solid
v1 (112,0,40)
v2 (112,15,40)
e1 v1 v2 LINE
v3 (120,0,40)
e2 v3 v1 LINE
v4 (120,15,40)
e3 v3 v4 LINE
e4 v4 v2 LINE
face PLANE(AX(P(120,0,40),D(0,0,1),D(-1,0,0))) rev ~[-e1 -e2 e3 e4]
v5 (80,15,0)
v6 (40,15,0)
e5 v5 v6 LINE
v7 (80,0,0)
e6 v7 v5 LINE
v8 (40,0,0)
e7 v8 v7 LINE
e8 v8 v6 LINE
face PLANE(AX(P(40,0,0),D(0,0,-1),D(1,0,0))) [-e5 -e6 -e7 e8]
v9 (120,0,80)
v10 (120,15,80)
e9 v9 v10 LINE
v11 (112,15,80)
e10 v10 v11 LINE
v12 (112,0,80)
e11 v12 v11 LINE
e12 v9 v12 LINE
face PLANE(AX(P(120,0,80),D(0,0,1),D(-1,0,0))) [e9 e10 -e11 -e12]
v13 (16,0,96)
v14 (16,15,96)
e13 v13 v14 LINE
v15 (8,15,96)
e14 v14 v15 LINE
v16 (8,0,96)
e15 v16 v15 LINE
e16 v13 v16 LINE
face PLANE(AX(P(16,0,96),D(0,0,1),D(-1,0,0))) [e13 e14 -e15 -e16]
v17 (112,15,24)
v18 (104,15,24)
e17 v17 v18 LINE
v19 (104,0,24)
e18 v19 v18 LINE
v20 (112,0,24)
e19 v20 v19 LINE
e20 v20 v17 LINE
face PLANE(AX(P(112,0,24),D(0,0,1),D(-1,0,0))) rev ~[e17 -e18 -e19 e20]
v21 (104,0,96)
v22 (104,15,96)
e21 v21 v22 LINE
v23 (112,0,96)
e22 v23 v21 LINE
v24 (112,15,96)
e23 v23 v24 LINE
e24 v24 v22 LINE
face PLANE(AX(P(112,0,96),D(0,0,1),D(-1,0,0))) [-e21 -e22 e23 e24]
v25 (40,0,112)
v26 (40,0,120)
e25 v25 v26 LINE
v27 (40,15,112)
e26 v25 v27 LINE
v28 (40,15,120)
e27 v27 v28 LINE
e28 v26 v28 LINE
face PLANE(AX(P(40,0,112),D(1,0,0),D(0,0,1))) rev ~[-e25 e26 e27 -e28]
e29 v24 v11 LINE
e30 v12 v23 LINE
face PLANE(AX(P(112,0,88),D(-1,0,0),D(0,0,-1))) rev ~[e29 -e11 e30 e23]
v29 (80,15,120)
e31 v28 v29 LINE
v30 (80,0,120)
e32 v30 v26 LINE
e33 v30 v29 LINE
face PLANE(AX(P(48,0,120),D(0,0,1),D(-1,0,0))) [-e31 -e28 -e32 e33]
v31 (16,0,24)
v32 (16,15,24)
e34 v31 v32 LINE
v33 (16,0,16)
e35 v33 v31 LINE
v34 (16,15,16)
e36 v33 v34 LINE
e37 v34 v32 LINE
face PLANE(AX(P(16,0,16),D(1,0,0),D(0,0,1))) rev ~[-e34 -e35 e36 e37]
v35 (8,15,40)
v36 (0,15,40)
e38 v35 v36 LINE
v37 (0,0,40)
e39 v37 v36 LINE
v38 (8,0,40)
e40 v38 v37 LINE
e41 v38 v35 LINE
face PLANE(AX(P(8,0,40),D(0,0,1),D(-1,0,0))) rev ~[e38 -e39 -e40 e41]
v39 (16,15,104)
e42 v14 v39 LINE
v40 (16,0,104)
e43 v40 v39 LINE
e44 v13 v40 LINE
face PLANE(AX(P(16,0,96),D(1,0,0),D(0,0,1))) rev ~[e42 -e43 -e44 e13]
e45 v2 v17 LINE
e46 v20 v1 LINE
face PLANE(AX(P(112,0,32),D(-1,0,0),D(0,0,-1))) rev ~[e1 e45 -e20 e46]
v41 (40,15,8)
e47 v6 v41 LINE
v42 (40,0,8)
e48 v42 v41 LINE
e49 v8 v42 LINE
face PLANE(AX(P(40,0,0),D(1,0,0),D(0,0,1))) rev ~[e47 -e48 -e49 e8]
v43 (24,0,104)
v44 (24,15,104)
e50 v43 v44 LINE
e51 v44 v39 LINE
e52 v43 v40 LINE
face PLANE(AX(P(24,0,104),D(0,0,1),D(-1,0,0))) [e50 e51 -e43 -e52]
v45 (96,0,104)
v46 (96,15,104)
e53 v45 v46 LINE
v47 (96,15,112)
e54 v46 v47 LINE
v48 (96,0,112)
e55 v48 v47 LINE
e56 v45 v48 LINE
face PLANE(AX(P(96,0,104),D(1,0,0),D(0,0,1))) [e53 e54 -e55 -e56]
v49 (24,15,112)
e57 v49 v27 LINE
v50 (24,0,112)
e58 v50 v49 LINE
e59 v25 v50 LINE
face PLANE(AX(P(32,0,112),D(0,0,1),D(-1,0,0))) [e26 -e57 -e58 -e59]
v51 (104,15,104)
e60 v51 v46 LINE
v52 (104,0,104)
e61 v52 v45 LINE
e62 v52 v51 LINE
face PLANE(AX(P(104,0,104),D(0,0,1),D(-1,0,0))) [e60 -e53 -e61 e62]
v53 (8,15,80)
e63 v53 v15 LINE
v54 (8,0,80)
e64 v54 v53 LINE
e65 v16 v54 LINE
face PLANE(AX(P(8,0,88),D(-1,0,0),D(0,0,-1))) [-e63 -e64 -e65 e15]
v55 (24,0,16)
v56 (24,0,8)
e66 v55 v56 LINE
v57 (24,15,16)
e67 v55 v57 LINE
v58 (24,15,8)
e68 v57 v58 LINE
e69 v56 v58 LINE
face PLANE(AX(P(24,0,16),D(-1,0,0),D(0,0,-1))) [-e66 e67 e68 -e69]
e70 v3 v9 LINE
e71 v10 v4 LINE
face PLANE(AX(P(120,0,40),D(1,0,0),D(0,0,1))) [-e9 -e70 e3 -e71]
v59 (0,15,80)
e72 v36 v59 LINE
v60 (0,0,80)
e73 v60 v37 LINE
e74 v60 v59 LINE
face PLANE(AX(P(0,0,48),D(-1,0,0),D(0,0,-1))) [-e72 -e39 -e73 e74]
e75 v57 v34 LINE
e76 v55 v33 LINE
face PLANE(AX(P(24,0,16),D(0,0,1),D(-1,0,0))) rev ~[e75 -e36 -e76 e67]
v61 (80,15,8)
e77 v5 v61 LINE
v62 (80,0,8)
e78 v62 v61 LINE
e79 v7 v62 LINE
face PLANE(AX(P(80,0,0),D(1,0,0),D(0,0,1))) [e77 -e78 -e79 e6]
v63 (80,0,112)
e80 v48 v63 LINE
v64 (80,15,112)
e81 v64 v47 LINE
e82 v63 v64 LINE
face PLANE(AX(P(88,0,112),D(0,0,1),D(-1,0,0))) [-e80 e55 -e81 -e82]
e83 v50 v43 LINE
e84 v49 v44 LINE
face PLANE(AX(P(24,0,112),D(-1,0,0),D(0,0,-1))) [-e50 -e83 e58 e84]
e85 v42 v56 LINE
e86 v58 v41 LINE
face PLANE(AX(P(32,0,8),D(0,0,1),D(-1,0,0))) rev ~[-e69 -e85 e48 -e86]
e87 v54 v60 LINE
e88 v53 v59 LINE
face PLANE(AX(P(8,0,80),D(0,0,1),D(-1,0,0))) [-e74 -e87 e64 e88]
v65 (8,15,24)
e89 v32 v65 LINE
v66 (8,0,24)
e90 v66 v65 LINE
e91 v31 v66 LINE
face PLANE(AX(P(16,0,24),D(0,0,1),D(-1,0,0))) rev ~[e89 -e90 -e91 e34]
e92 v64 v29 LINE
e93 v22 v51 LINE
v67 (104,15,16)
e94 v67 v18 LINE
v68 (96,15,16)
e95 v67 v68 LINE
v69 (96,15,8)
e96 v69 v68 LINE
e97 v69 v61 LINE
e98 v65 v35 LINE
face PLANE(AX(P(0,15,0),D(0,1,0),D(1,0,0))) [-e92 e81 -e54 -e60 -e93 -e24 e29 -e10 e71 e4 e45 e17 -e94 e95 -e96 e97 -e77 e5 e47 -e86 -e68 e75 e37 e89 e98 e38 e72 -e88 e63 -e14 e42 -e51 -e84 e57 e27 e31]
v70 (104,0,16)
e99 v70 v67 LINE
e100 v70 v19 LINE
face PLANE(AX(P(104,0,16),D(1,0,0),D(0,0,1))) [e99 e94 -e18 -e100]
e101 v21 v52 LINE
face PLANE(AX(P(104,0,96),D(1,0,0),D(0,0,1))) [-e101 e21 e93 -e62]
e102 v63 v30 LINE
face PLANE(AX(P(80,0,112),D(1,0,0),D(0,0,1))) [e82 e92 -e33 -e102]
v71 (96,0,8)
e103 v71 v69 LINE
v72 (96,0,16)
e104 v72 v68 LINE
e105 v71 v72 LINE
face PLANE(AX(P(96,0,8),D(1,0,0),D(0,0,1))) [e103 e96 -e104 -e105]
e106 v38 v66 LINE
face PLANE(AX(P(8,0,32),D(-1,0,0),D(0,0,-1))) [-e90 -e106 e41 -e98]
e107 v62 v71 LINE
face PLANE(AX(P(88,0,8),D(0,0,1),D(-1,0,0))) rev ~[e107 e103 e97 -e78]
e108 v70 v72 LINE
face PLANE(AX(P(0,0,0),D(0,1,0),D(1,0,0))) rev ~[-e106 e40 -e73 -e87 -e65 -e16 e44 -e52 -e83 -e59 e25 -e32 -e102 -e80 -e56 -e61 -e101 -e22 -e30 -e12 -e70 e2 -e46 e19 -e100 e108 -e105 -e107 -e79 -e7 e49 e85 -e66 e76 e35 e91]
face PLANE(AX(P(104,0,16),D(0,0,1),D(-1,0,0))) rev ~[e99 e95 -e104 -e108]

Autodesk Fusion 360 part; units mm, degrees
sketch "Sketch1" plane through (0, 0, 0) normal (0, 1, 0) x (1, 0, 0)
  line L0 (0, 0) -> (-8, 0)
  line L1 (0, 0) -> (0, -8)
  line L2 (0, 0) -> (8, 0)
  line L3 (8, 0) -> (8, -8)
  line L4 (8, -8) -> (0, -8)
  line L5 (0, -8) -> (0, 0)
  line L6 (8, -8) -> (8, 0)
  line L7 (8, 0) -> (16, 0)
  line L8 (16, 0) -> (16, -8)
  line L9 (16, -8) -> (8, -8)
  line L10 (16, -8) -> (16, 0)
  line L11 (16, 0) -> (24, 0)
  line L12 (24, 0) -> (24, -8)
  line L13 (24, -8) -> (16, -8)
  line L14 (24, -8) -> (24, 0)
  line L15 (24, 0) -> (32, 0)
  line L16 (32, 0) -> (32, -8)
  line L17 (32, -8) -> (24, -8)
  line L18 (32, -8) -> (32, 0)
  line L19 (32, 0) -> (40, 0)
  line L20 (40, 0) -> (40, -8)
  line L21 (40, -8) -> (32, -8)
  line L22 (40, -8) -> (40, 0)
  line L23 (40, 0) -> (48, 0)
  line L24 (48, 0) -> (48, -8)
  line L25 (48, -8) -> (40, -8)
  line L26 (48, -8) -> (48, 0)
  line L27 (48, 0) -> (56, 0)
  line L28 (56, 0) -> (56, -8)
  line L29 (56, -8) -> (48, -8)
  line L30 (56, -8) -> (56, 0)
  line L31 (56, 0) -> (64, 0)
  line L32 (64, 0) -> (64, -8)
  line L33 (64, -8) -> (56, -8)
  line L34 (64, -8) -> (64, 0)
  line L35 (64, 0) -> (72, 0)
  line L36 (72, 0) -> (72, -8)
  line L37 (72, -8) -> (64, -8)
  line L38 (72, -8) -> (72, 0)
  line L39 (72, 0) -> (80, 0)
  line L40 (80, 0) -> (80, -8)
  line L41 (80, -8) -> (72, -8)
  line L42 (80, -8) -> (80, 0)
  line L43 (80, 0) -> (88, 0)
  line L44 (88, 0) -> (88, -8)
  line L45 (88, -8) -> (80, -8)
  line L46 (88, -8) -> (88, 0)
  line L47 (88, 0) -> (96, 0)
  line L48 (96, 0) -> (96, -8)
  line L49 (96, -8) -> (88, -8)
  line L50 (96, -8) -> (96, 0)
  line L51 (96, 0) -> (104, 0)
  line L52 (104, 0) -> (104, -8)
  line L53 (104, -8) -> (96, -8)
  line L54 (104, -8) -> (104, 0)
  line L55 (104, 0) -> (112, 0)
  line L56 (112, 0) -> (112, -8)
  line L57 (112, -8) -> (104, -8)
  line L58 (112, -8) -> (112, 0)
  line L59 (112, 0) -> (120, 0)
  line L60 (120, 0) -> (120, -8)
  line L61 (120, -8) -> (112, -8)
  line L62 (32, -8) -> (32, -16)
  line L63 (72, -8) -> (72, -16)
  line L64 (8, -16) -> (8, -8)
  line L65 (32, -16) -> (32, -8)
  line L66 (64, -8) -> (64, -16)
  line L67 (80, -8) -> (80, -16)
  line L68 (32, -8) -> (40, -8)
  line L69 (8, -8) -> (16, -8)
  line L70 (56, -16) -> (56, -8)
  line L71 (80, -16) -> (80, -8)
  line L72 (64, -8) -> (72, -8)
  line L73 (96, -8) -> (96, -16)
  line L74 (48, -8) -> (56, -8)
  line L75 (88, -16) -> (88, -8)
  line L76 (48, -8) -> (48, -16)
  line L77 (0, -16) -> (0, -8)
  line L78 (104, -8) -> (104, -16)
  line L79 (88, -8) -> (88, -16)
  line L80 (24, -8) -> (32, -8)
  line L81 (16, -8) -> (24, -8)
  line L82 (8, -8) -> (8, -16)
  line L83 (0, -8) -> (8, -8)
  line L84 (88, -8) -> (96, -8)
  line L85 (24, -16) -> (24, -8)
  line L86 (48, -16) -> (48, -8)
  line L87 (56, -8) -> (64, -8)
  line L88 (16, -8) -> (16, -16)
  line L89 (24, -8) -> (24, -16)
  line L90 (80, -8) -> (88, -8)
  line L91 (96, -8) -> (104, -8)
  line L92 (40, -8) -> (40, -16)
  line L93 (72, -16) -> (72, -8)
  line L94 (104, -16) -> (104, -8)
  line L95 (64, -16) -> (64, -8)
  line L96 (40, -16) -> (40, -8)
  line L97 (104, -8) -> (112, -8)
  line L98 (96, -16) -> (96, -8)
  line L99 (72, -8) -> (80, -8)
  line L100 (56, -8) -> (56, -16)
  line L101 (16, -16) -> (16, -8)
  line L102 (0, -8) -> (0, -16)
  line L103 (40, -8) -> (48, -8)
  line L104 (104, -16) -> (96, -16)
  line L105 (112, -16) -> (104, -16)
  line L106 (96, -16) -> (88, -16)
  line L107 (64, -16) -> (56, -16)
  line L108 (120, -16) -> (112, -16)
  line L109 (24, -16) -> (16, -16)
  line L110 (88, -16) -> (80, -16)
  line L111 (56, -16) -> (48, -16)
  line L112 (72, -16) -> (64, -16)
  line L113 (80, -16) -> (72, -16)
  line L114 (40, -16) -> (32, -16)
  line L115 (32, -16) -> (24, -16)
  line L116 (8, -16) -> (0, -16)
  line L117 (48, -16) -> (40, -16)
  line L118 (16, -16) -> (8, -16)
  line L119 (120, -8) -> (120, -16)
  line L120 (112, -8) -> (120, -8)
  line L121 (112, -16) -> (112, -8)
  line L122 (32, -16) -> (32, -24)
  line L123 (72, -16) -> (72, -24)
  line L124 (8, -24) -> (8, -16)
  line L125 (32, -24) -> (32, -16)
  line L126 (64, -16) -> (64, -24)
  line L127 (80, -16) -> (80, -24)
  line L128 (32, -16) -> (40, -16)
  line L129 (8, -16) -> (16, -16)
  line L130 (56, -24) -> (56, -16)
  line L131 (80, -24) -> (80, -16)
  line L132 (64, -16) -> (72, -16)
  line L133 (96, -16) -> (96, -24)
  line L134 (48, -16) -> (56, -16)
  line L135 (88, -24) -> (88, -16)
  line L136 (48, -16) -> (48, -24)
  line L137 (0, -24) -> (0, -16)
  line L138 (104, -16) -> (104, -24)
  line L139 (88, -16) -> (88, -24)
  line L140 (24, -16) -> (32, -16)
  line L141 (16, -16) -> (24, -16)
  line L142 (8, -16) -> (8, -24)
  line L143 (0, -16) -> (8, -16)
  line L144 (88, -16) -> (96, -16)
  line L145 (24, -24) -> (24, -16)
  line L146 (48, -24) -> (48, -16)
  line L147 (56, -16) -> (64, -16)
  line L148 (16, -16) -> (16, -24)
  line L149 (24, -16) -> (24, -24)
  line L150 (80, -16) -> (88, -16)
  line L151 (96, -16) -> (104, -16)
  line L152 (40, -16) -> (40, -24)
  line L153 (72, -24) -> (72, -16)
  line L154 (104, -24) -> (104, -16)
  line L155 (64, -24) -> (64, -16)
  line L156 (40, -24) -> (40, -16)
  line L157 (104, -16) -> (112, -16)
  line L158 (96, -24) -> (96, -16)
  line L159 (72, -16) -> (80, -16)
  line L160 (56, -16) -> (56, -24)
  line L161 (16, -24) -> (16, -16)
  line L162 (0, -16) -> (0, -24)
  line L163 (40, -16) -> (48, -16)
  line L164 (104, -24) -> (96, -24)
  line L165 (112, -24) -> (104, -24)
  line L166 (96, -24) -> (88, -24)
  line L167 (64, -24) -> (56, -24)
  line L168 (120, -24) -> (112, -24)
  line L169 (24, -24) -> (16, -24)
  line L170 (88, -24) -> (80, -24)
  line L171 (56, -24) -> (48, -24)
  line L172 (72, -24) -> (64, -24)
  line L173 (80, -24) -> (72, -24)
  line L174 (40, -24) -> (32, -24)
  line L175 (32, -24) -> (24, -24)
  line L176 (8, -24) -> (0, -24)
  line L177 (48, -24) -> (40, -24)
  line L178 (16, -24) -> (8, -24)
  line L179 (120, -16) -> (120, -24)
  line L180 (112, -16) -> (120, -16)
  line L181 (112, -24) -> (112, -16)
  line L182 (32, -24) -> (32, -32)
  line L183 (72, -24) -> (72, -32)
  line L184 (8, -32) -> (8, -24)
  line L185 (32, -32) -> (32, -24)
  line L186 (64, -24) -> (64, -32)
  line L187 (80, -24) -> (80, -32)
  line L188 (32, -24) -> (40, -24)
  line L189 (8, -24) -> (16, -24)
  line L190 (56, -32) -> (56, -24)
  line L191 (80, -32) -> (80, -24)
  line L192 (64, -24) -> (72, -24)
  line L193 (96, -24) -> (96, -32)
  line L194 (48, -24) -> (56, -24)
  line L195 (88, -32) -> (88, -24)
  line L196 (48, -24) -> (48, -32)
  line L197 (0, -32) -> (0, -24)
  line L198 (104, -24) -> (104, -32)
  line L199 (88, -24) -> (88, -32)
  line L200 (24, -24) -> (32, -24)
  line L201 (16, -24) -> (24, -24)
  line L202 (8, -24) -> (8, -32)
  line L203 (0, -24) -> (8, -24)
  line L204 (88, -24) -> (96, -24)
  line L205 (24, -32) -> (24, -24)
  line L206 (48, -32) -> (48, -24)
  line L207 (56, -24) -> (64, -24)
  line L208 (16, -24) -> (16, -32)
  line L209 (24, -24) -> (24, -32)
  line L210 (80, -24) -> (88, -24)
  line L211 (96, -24) -> (104, -24)
  line L212 (40, -24) -> (40, -32)
  line L213 (72, -32) -> (72, -24)
  line L214 (104, -32) -> (104, -24)
  line L215 (64, -32) -> (64, -24)
  line L216 (40, -32) -> (40, -24)
  line L217 (104, -24) -> (112, -24)
  line L218 (96, -32) -> (96, -24)
  line L219 (72, -24) -> (80, -24)
  line L220 (56, -24) -> (56, -32)
  line L221 (16, -32) -> (16, -24)
  line L222 (0, -24) -> (0, -32)
  line L223 (40, -24) -> (48, -24)
  line L224 (104, -32) -> (96, -32)
  line L225 (112, -32) -> (104, -32)
  line L226 (96, -32) -> (88, -32)
  line L227 (64, -32) -> (56, -32)
  line L228 (120, -32) -> (112, -32)
  line L229 (24, -32) -> (16, -32)
  line L230 (88, -32) -> (80, -32)
  line L231 (56, -32) -> (48, -32)
  line L232 (72, -32) -> (64, -32)
  line L233 (80, -32) -> (72, -32)
  line L234 (40, -32) -> (32, -32)
  line L235 (32, -32) -> (24, -32)
  line L236 (8, -32) -> (0, -32)
  line L237 (48, -32) -> (40, -32)
  line L238 (16, -32) -> (8, -32)
  line L239 (120, -24) -> (120, -32)
  line L240 (112, -24) -> (120, -24)
  line L241 (112, -32) -> (112, -24)
  line L242 (32, -32) -> (32, -40)
  line L243 (72, -32) -> (72, -40)
  line L244 (8, -40) -> (8, -32)
  line L245 (32, -40) -> (32, -32)
  line L246 (64, -32) -> (64, -40)
  line L247 (80, -32) -> (80, -40)
  line L248 (32, -32) -> (40, -32)
  line L249 (8, -32) -> (16, -32)
  line L250 (56, -40) -> (56, -32)
  line L251 (80, -40) -> (80, -32)
  line L252 (64, -32) -> (72, -32)
  line L253 (96, -32) -> (96, -40)
  line L254 (48, -32) -> (56, -32)
  line L255 (88, -40) -> (88, -32)
  line L256 (48, -32) -> (48, -40)
  line L257 (0, -40) -> (0, -32)
  line L258 (104, -32) -> (104, -40)
  line L259 (88, -32) -> (88, -40)
  line L260 (24, -32) -> (32, -32)
  line L261 (16, -32) -> (24, -32)
  line L262 (8, -32) -> (8, -40)
  line L263 (0, -32) -> (8, -32)
  line L264 (88, -32) -> (96, -32)
  line L265 (24, -40) -> (24, -32)
  line L266 (48, -40) -> (48, -32)
  line L267 (56, -32) -> (64, -32)
  line L268 (16, -32) -> (16, -40)
  line L269 (24, -32) -> (24, -40)
  line L270 (80, -32) -> (88, -32)
  line L271 (96, -32) -> (104, -32)
  line L272 (40, -32) -> (40, -40)
  line L273 (72, -40) -> (72, -32)
  line L274 (104, -40) -> (104, -32)
  line L275 (64, -40) -> (64, -32)
  line L276 (40, -40) -> (40, -32)
  line L277 (104, -32) -> (112, -32)
  line L278 (96, -40) -> (96, -32)
  line L279 (72, -32) -> (80, -32)
  line L280 (56, -32) -> (56, -40)
  line L281 (16, -40) -> (16, -32)
  line L282 (0, -32) -> (0, -40)
  line L283 (40, -32) -> (48, -32)
  line L284 (104, -40) -> (96, -40)
  line L285 (112, -40) -> (104, -40)
  line L286 (96, -40) -> (88, -40)
  line L287 (64, -40) -> (56, -40)
  line L288 (120, -40) -> (112, -40)
  line L289 (24, -40) -> (16, -40)
  line L290 (88, -40) -> (80, -40)
  line L291 (56, -40) -> (48, -40)
  line L292 (72, -40) -> (64, -40)
  line L293 (80, -40) -> (72, -40)
  line L294 (40, -40) -> (32, -40)
  line L295 (32, -40) -> (24, -40)
  line L296 (8, -40) -> (0, -40)
  line L297 (48, -40) -> (40, -40)
  line L298 (16, -40) -> (8, -40)
  line L299 (120, -32) -> (120, -40)
  line L300 (112, -32) -> (120, -32)
  line L301 (112, -40) -> (112, -32)
  line L302 (32, -40) -> (32, -48)
  line L303 (72, -40) -> (72, -48)
  line L304 (8, -48) -> (8, -40)
  line L305 (32, -48) -> (32, -40)
  line L306 (64, -40) -> (64, -48)
  line L307 (80, -40) -> (80, -48)
  line L308 (32, -40) -> (40, -40)
  line L309 (8, -40) -> (16, -40)
  line L310 (56, -48) -> (56, -40)
  line L311 (80, -48) -> (80, -40)
  line L312 (64, -40) -> (72, -40)
  line L313 (96, -40) -> (96, -48)
  line L314 (48, -40) -> (56, -40)
  line L315 (88, -48) -> (88, -40)
  line L316 (48, -40) -> (48, -48)
  line L317 (0, -48) -> (0, -40)
  line L318 (104, -40) -> (104, -48)
  line L319 (88, -40) -> (88, -48)
  line L320 (24, -40) -> (32, -40)
  line L321 (16, -40) -> (24, -40)
  line L322 (8, -40) -> (8, -48)
  line L323 (0, -40) -> (8, -40)
  line L324 (88, -40) -> (96, -40)
  line L325 (24, -48) -> (24, -40)
  line L326 (48, -48) -> (48, -40)
  line L327 (56, -40) -> (64, -40)
  line L328 (16, -40) -> (16, -48)
  line L329 (24, -40) -> (24, -48)
  line L330 (80, -40) -> (88, -40)
  line L331 (96, -40) -> (104, -40)
  line L332 (40, -40) -> (40, -48)
  line L333 (72, -48) -> (72, -40)
  line L334 (104, -48) -> (104, -40)
  line L335 (64, -48) -> (64, -40)
  line L336 (40, -48) -> (40, -40)
  line L337 (104, -40) -> (112, -40)
  line L338 (96, -48) -> (96, -40)
  line L339 (72, -40) -> (80, -40)
  line L340 (56, -40) -> (56, -48)
  line L341 (16, -48) -> (16, -40)
  line L342 (0, -40) -> (0, -48)
  line L343 (40, -40) -> (48, -40)
  line L344 (104, -48) -> (96, -48)
  line L345 (112, -48) -> (104, -48)
  line L346 (96, -48) -> (88, -48)
  line L347 (64, -48) -> (56, -48)
  line L348 (120, -48) -> (112, -48)
  line L349 (24, -48) -> (16, -48)
  line L350 (88, -48) -> (80, -48)
  line L351 (56, -48) -> (48, -48)
  line L352 (72, -48) -> (64, -48)
  line L353 (80, -48) -> (72, -48)
  line L354 (40, -48) -> (32, -48)
  line L355 (32, -48) -> (24, -48)
  line L356 (8, -48) -> (0, -48)
  line L357 (48, -48) -> (40, -48)
  line L358 (16, -48) -> (8, -48)
  line L359 (120, -40) -> (120, -48)
  line L360 (112, -40) -> (120, -40)
  line L361 (112, -48) -> (112, -40)
  line L362 (32, -48) -> (32, -56)
  line L363 (72, -48) -> (72, -56)
  line L364 (8, -56) -> (8, -48)
  line L365 (32, -56) -> (32, -48)
  line L366 (64, -48) -> (64, -56)
  line L367 (80, -48) -> (80, -56)
  line L368 (32, -48) -> (40, -48)
  line L369 (8, -48) -> (16, -48)
  line L370 (56, -56) -> (56, -48)
  line L371 (80, -56) -> (80, -48)
  line L372 (64, -48) -> (72, -48)
  line L373 (96, -48) -> (96, -56)
  line L374 (48, -48) -> (56, -48)
  line L375 (88, -56) -> (88, -48)
  line L376 (48, -48) -> (48, -56)
  line L377 (0, -56) -> (0, -48)
  line L378 (104, -48) -> (104, -56)
  line L379 (88, -48) -> (88, -56)
  line L380 (24, -48) -> (32, -48)
  line L381 (16, -48) -> (24, -48)
  line L382 (8, -48) -> (8, -56)
  line L383 (0, -48) -> (8, -48)
  line L384 (88, -48) -> (96, -48)
  line L385 (24, -56) -> (24, -48)
  line L386 (48, -56) -> (48, -48)
  line L387 (56, -48) -> (64, -48)
  line L388 (16, -48) -> (16, -56)
  line L389 (24, -48) -> (24, -56)
  line L390 (80, -48) -> (88, -48)
  line L391 (96, -48) -> (104, -48)
  line L392 (40, -48) -> (40, -56)
  line L393 (72, -56) -> (72, -48)
  line L394 (104, -56) -> (104, -48)
  line L395 (64, -56) -> (64, -48)
  line L396 (40, -56) -> (40, -48)
  line L397 (104, -48) -> (112, -48)
  line L398 (96, -56) -> (96, -48)
  line L399 (72, -48) -> (80, -48)
  line L400 (56, -48) -> (56, -56)
  line L401 (16, -56) -> (16, -48)
  line L402 (0, -48) -> (0, -56)
  line L403 (40, -48) -> (48, -48)
  line L404 (104, -56) -> (96, -56)
  line L405 (112, -56) -> (104, -56)
  line L406 (96, -56) -> (88, -56)
  line L407 (64, -56) -> (56, -56)
  line L408 (120, -56) -> (112, -56)
  line L409 (24, -56) -> (16, -56)
  line L410 (88, -56) -> (80, -56)
  line L411 (56, -56) -> (48, -56)
  line L412 (72, -56) -> (64, -56)
  line L413 (80, -56) -> (72, -56)
  line L414 (40, -56) -> (32, -56)
  line L415 (32, -56) -> (24, -56)
  line L416 (8, -56) -> (0, -56)
  line L417 (48, -56) -> (40, -56)
  line L418 (16, -56) -> (8, -56)
  line L419 (120, -48) -> (120, -56)
  line L420 (112, -48) -> (120, -48)
  line L421 (112, -56) -> (112, -48)
  line L422 (32, -56) -> (32, -64)
  line L423 (72, -56) -> (72, -64)
  line L424 (8, -64) -> (8, -56)
  line L425 (32, -64) -> (32, -56)
  line L426 (64, -56) -> (64, -64)
  line L427 (80, -56) -> (80, -64)
  line L428 (32, -56) -> (40, -56)
  line L429 (8, -56) -> (16, -56)
  line L430 (56, -64) -> (56, -56)
  line L431 (80, -64) -> (80, -56)
  line L432 (64, -56) -> (72, -56)
  line L433 (96, -56) -> (96, -64)
  line L434 (48, -56) -> (56, -56)
  line L435 (88, -64) -> (88, -56)
  line L436 (48, -56) -> (48, -64)
  line L437 (0, -64) -> (0, -56)
  line L438 (104, -56) -> (104, -64)
  line L439 (88, -56) -> (88, -64)
  line L440 (24, -56) -> (32, -56)
  line L441 (16, -56) -> (24, -56)
  line L442 (8, -56) -> (8, -64)
  line L443 (0, -56) -> (8, -56)
  line L444 (88, -56) -> (96, -56)
  line L445 (24, -64) -> (24, -56)
  line L446 (48, -64) -> (48, -56)
  line L447 (56, -56) -> (64, -56)
  line L448 (16, -56) -> (16, -64)
  line L449 (24, -56) -> (24, -64)
  line L450 (80, -56) -> (88, -56)
  line L451 (96, -56) -> (104, -56)
  line L452 (40, -56) -> (40, -64)
  line L453 (72, -64) -> (72, -56)
  line L454 (104, -64) -> (104, -56)
  line L455 (64, -64) -> (64, -56)
  line L456 (40, -64) -> (40, -56)
  line L457 (104, -56) -> (112, -56)
  line L458 (96, -64) -> (96, -56)
  line L459 (72, -56) -> (80, -56)
  line L460 (56, -56) -> (56, -64)
  line L461 (16, -64) -> (16, -56)
  line L462 (0, -56) -> (0, -64)
  line L463 (40, -56) -> (48, -56)
  line L464 (104, -64) -> (96, -64)
  line L465 (112, -64) -> (104, -64)
  line L466 (96, -64) -> (88, -64)
  line L467 (64, -64) -> (56, -64)
  line L468 (120, -64) -> (112, -64)
  line L469 (24, -64) -> (16, -64)
  line L470 (88, -64) -> (80, -64)
  line L471 (56, -64) -> (48, -64)
  line L472 (72, -64) -> (64, -64)
  line L473 (80, -64) -> (72, -64)
  line L474 (40, -64) -> (32, -64)
  line L475 (32, -64) -> (24, -64)
  line L476 (8, -64) -> (0, -64)
  line L477 (48, -64) -> (40, -64)
  line L478 (16, -64) -> (8, -64)
  line L479 (120, -56) -> (120, -64)
  line L480 (112, -56) -> (120, -56)
  line L481 (112, -64) -> (112, -56)
  line L482 (32, -64) -> (32, -72)
  line L483 (72, -64) -> (72, -72)
  line L484 (8, -72) -> (8, -64)
  line L485 (32, -72) -> (32, -64)
  line L486 (64, -64) -> (64, -72)
  line L487 (80, -64) -> (80, -72)
  line L488 (32, -64) -> (40, -64)
  line L489 (8, -64) -> (16, -64)
  line L490 (56, -72) -> (56, -64)
  line L491 (80, -72) -> (80, -64)
  line L492 (64, -64) -> (72, -64)
  line L493 (96, -64) -> (96, -72)
  line L494 (48, -64) -> (56, -64)
  line L495 (88, -72) -> (88, -64)
  line L496 (48, -64) -> (48, -72)
  line L497 (0, -72) -> (0, -64)
  line L498 (104, -64) -> (104, -72)
  line L499 (88, -64) -> (88, -72)
  line L500 (24, -64) -> (32, -64)
  line L501 (16, -64) -> (24, -64)
  line L502 (8, -64) -> (8, -72)
  line L503 (0, -64) -> (8, -64)
  line L504 (88, -64) -> (96, -64)
  line L505 (24, -72) -> (24, -64)
  line L506 (48, -72) -> (48, -64)
  line L507 (56, -64) -> (64, -64)
  line L508 (16, -64) -> (16, -72)
  line L509 (24, -64) -> (24, -72)
  line L510 (80, -64) -> (88, -64)
  line L511 (96, -64) -> (104, -64)
  line L512 (40, -64) -> (40, -72)
  line L513 (72, -72) -> (72, -64)
  line L514 (104, -72) -> (104, -64)
  line L515 (64, -72) -> (64, -64)
  line L516 (40, -72) -> (40, -64)
  line L517 (104, -64) -> (112, -64)
  line L518 (96, -72) -> (96, -64)
  line L519 (72, -64) -> (80, -64)
  line L520 (56, -64) -> (56, -72)
  line L521 (16, -72) -> (16, -64)
  line L522 (0, -64) -> (0, -72)
  line L523 (40, -64) -> (48, -64)
  line L524 (104, -72) -> (96, -72)
  line L525 (112, -72) -> (104, -72)
  line L526 (96, -72) -> (88, -72)
  line L527 (64, -72) -> (56, -72)
  line L528 (120, -72) -> (112, -72)
  line L529 (24, -72) -> (16, -72)
  line L530 (88, -72) -> (80, -72)
  line L531 (56, -72) -> (48, -72)
  line L532 (72, -72) -> (64, -72)
  line L533 (80, -72) -> (72, -72)
  line L534 (40, -72) -> (32, -72)
  line L535 (32, -72) -> (24, -72)
  line L536 (8, -72) -> (0, -72)
  line L537 (48, -72) -> (40, -72)
  line L538 (16, -72) -> (8, -72)
  line L539 (120, -64) -> (120, -72)
  line L540 (112, -64) -> (120, -64)
  line L541 (112, -72) -> (112, -64)
  line L542 (32, -72) -> (32, -80)
  line L543 (72, -72) -> (72, -80)
  line L544 (8, -80) -> (8, -72)
  line L545 (32, -80) -> (32, -72)
  line L546 (64, -72) -> (64, -80)
  line L547 (80, -72) -> (80, -80)
  line L548 (32, -72) -> (40, -72)
  line L549 (8, -72) -> (16, -72)
  line L550 (56, -80) -> (56, -72)
  line L551 (80, -80) -> (80, -72)
  line L552 (64, -72) -> (72, -72)
  line L553 (96, -72) -> (96, -80)
  line L554 (48, -72) -> (56, -72)
  line L555 (88, -80) -> (88, -72)
  line L556 (48, -72) -> (48, -80)
  line L557 (0, -80) -> (0, -72)
  line L558 (104, -72) -> (104, -80)
  line L559 (88, -72) -> (88, -80)
  line L560 (24, -72) -> (32, -72)
  line L561 (16, -72) -> (24, -72)
  line L562 (8, -72) -> (8, -80)
  line L563 (0, -72) -> (8, -72)
  line L564 (88, -72) -> (96, -72)
  line L565 (24, -80) -> (24, -72)
  line L566 (48, -80) -> (48, -72)
  line L567 (56, -72) -> (64, -72)
  line L568 (16, -72) -> (16, -80)
  line L569 (24, -72) -> (24, -80)
  line L570 (80, -72) -> (88, -72)
  line L571 (96, -72) -> (104, -72)
  line L572 (40, -72) -> (40, -80)
  line L573 (72, -80) -> (72, -72)
  line L574 (104, -80) -> (104, -72)
  line L575 (64, -80) -> (64, -72)
  line L576 (40, -80) -> (40, -72)
  line L577 (104, -72) -> (112, -72)
  line L578 (96, -80) -> (96, -72)
  line L579 (72, -72) -> (80, -72)
  line L580 (56, -72) -> (56, -80)
  line L581 (16, -80) -> (16, -72)
  line L582 (0, -72) -> (0, -80)
  line L583 (40, -72) -> (48, -72)
  line L584 (104, -80) -> (96, -80)
  line L585 (112, -80) -> (104, -80)
  line L586 (96, -80) -> (88, -80)
  line L587 (64, -80) -> (56, -80)
  line L588 (120, -80) -> (112, -80)
  line L589 (24, -80) -> (16, -80)
  line L590 (88, -80) -> (80, -80)
  line L591 (56, -80) -> (48, -80)
  line L592 (72, -80) -> (64, -80)
  line L593 (80, -80) -> (72, -80)
  line L594 (40, -80) -> (32, -80)
  line L595 (32, -80) -> (24, -80)
  line L596 (8, -80) -> (0, -80)
  line L597 (48, -80) -> (40, -80)
  line L598 (16, -80) -> (8, -80)
  line L599 (120, -72) -> (120, -80)
  line L600 (112, -72) -> (120, -72)
  line L601 (112, -80) -> (112, -72)
  line L602 (32, -80) -> (32, -88)
  line L603 (72, -80) -> (72, -88)
  line L604 (8, -88) -> (8, -80)
  line L605 (32, -88) -> (32, -80)
  line L606 (64, -80) -> (64, -88)
  line L607 (80, -80) -> (80, -88)
  line L608 (32, -80) -> (40, -80)
  line L609 (8, -80) -> (16, -80)
  line L610 (56, -88) -> (56, -80)
  line L611 (80, -88) -> (80, -80)
  line L612 (64, -80) -> (72, -80)
  line L613 (96, -80) -> (96, -88)
  line L614 (48, -80) -> (56, -80)
  line L615 (88, -88) -> (88, -80)
  line L616 (48, -80) -> (48, -88)
  line L617 (0, -88) -> (0, -80)
  line L618 (104, -80) -> (104, -88)
  line L619 (88, -80) -> (88, -88)
  line L620 (24, -80) -> (32, -80)
  line L621 (16, -80) -> (24, -80)
  line L622 (8, -80) -> (8, -88)
  line L623 (0, -80) -> (8, -80)
  line L624 (88, -80) -> (96, -80)
  line L625 (24, -88) -> (24, -80)
  line L626 (48, -88) -> (48, -80)
  line L627 (56, -80) -> (64, -80)
  line L628 (16, -80) -> (16, -88)
  line L629 (24, -80) -> (24, -88)
  line L630 (80, -80) -> (88, -80)
  line L631 (96, -80) -> (104, -80)
  line L632 (40, -80) -> (40, -88)
  line L633 (72, -88) -> (72, -80)
  line L634 (104, -88) -> (104, -80)
  line L635 (64, -88) -> (64, -80)
  line L636 (40, -88) -> (40, -80)
  line L637 (104, -80) -> (112, -80)
  line L638 (96, -88) -> (96, -80)
  line L639 (72, -80) -> (80, -80)
  line L640 (56, -80) -> (56, -88)
  line L641 (16, -88) -> (16, -80)
  line L642 (0, -80) -> (0, -88)
  line L643 (40, -80) -> (48, -80)
  line L644 (104, -88) -> (96, -88)
  line L645 (112, -88) -> (104, -88)
  line L646 (96, -88) -> (88, -88)
  line L647 (64, -88) -> (56, -88)
  line L648 (120, -88) -> (112, -88)
  line L649 (24, -88) -> (16, -88)
  line L650 (88, -88) -> (80, -88)
  line L651 (56, -88) -> (48, -88)
  line L652 (72, -88) -> (64, -88)
  line L653 (80, -88) -> (72, -88)
  line L654 (40, -88) -> (32, -88)
  line L655 (32, -88) -> (24, -88)
  line L656 (8, -88) -> (0, -88)
  line L657 (48, -88) -> (40, -88)
  line L658 (16, -88) -> (8, -88)
  line L659 (120, -80) -> (120, -88)
  line L660 (112, -80) -> (120, -80)
  line L661 (112, -88) -> (112, -80)
  line L662 (32, -88) -> (32, -96)
  line L663 (72, -88) -> (72, -96)
  line L664 (8, -96) -> (8, -88)
  line L665 (32, -96) -> (32, -88)
  line L666 (64, -88) -> (64, -96)
  line L667 (80, -88) -> (80, -96)
  line L668 (32, -88) -> (40, -88)
  line L669 (8, -88) -> (16, -88)
  line L670 (56, -96) -> (56, -88)
  line L671 (80, -96) -> (80, -88)
  line L672 (64, -88) -> (72, -88)
  line L673 (96, -88) -> (96, -96)
  line L674 (48, -88) -> (56, -88)
  line L675 (88, -96) -> (88, -88)
  line L676 (48, -88) -> (48, -96)
  line L677 (0, -96) -> (0, -88)
  line L678 (104, -88) -> (104, -96)
  line L679 (88, -88) -> (88, -96)
  line L680 (24, -88) -> (32, -88)
  line L681 (16, -88) -> (24, -88)
  line L682 (8, -88) -> (8, -96)
  line L683 (0, -88) -> (8, -88)
  line L684 (88, -88) -> (96, -88)
  line L685 (24, -96) -> (24, -88)
  line L686 (48, -96) -> (48, -88)
  line L687 (56, -88) -> (64, -88)
  line L688 (16, -88) -> (16, -96)
  line L689 (24, -88) -> (24, -96)
  line L690 (80, -88) -> (88, -88)
  line L691 (96, -88) -> (104, -88)
  line L692 (40, -88) -> (40, -96)
  line L693 (72, -96) -> (72, -88)
  line L694 (104, -96) -> (104, -88)
  line L695 (64, -96) -> (64, -88)
  line L696 (40, -96) -> (40, -88)
  line L697 (104, -88) -> (112, -88)
  line L698 (96, -96) -> (96, -88)
  line L699 (72, -88) -> (80, -88)
  line L700 (56, -88) -> (56, -96)
  line L701 (16, -96) -> (16, -88)
  line L702 (0, -88) -> (0, -96)
  line L703 (40, -88) -> (48, -88)
  line L704 (104, -96) -> (96, -96)
  line L705 (112, -96) -> (104, -96)
  line L706 (96, -96) -> (88, -96)
  line L707 (64, -96) -> (56, -96)
  line L708 (120, -96) -> (112, -96)
  line L709 (24, -96) -> (16, -96)
  line L710 (88, -96) -> (80, -96)
  line L711 (56, -96) -> (48, -96)
  line L712 (72, -96) -> (64, -96)
  line L713 (80, -96) -> (72, -96)
  line L714 (40, -96) -> (32, -96)
  line L715 (32, -96) -> (24, -96)
  line L716 (8, -96) -> (0, -96)
  line L717 (48, -96) -> (40, -96)
  line L718 (16, -96) -> (8, -96)
  line L719 (120, -88) -> (120, -96)
  line L720 (112, -88) -> (120, -88)
  line L721 (112, -96) -> (112, -88)
  line L722 (32, -96) -> (32, -104)
  line L723 (72, -96) -> (72, -104)
  line L724 (8, -104) -> (8, -96)
  line L725 (32, -104) -> (32, -96)
  line L726 (64, -96) -> (64, -104)
  line L727 (80, -96) -> (80, -104)
  line L728 (32, -96) -> (40, -96)
  line L729 (8, -96) -> (16, -96)
  line L730 (56, -104) -> (56, -96)
  line L731 (80, -104) -> (80, -96)
  line L732 (64, -96) -> (72, -96)
  line L733 (96, -96) -> (96, -104)
  line L734 (48, -96) -> (56, -96)
  line L735 (88, -104) -> (88, -96)
  line L736 (48, -96) -> (48, -104)
  line L737 (0, -104) -> (0, -96)
  line L738 (104, -96) -> (104, -104)
  line L739 (88, -96) -> (88, -104)
  line L740 (24, -96) -> (32, -96)
  line L741 (16, -96) -> (24, -96)
  line L742 (8, -96) -> (8, -104)
  line L743 (0, -96) -> (8, -96)
  line L744 (88, -96) -> (96, -96)
  line L745 (24, -104) -> (24, -96)
  line L746 (48, -104) -> (48, -96)
  line L747 (56, -96) -> (64, -96)
  line L748 (16, -96) -> (16, -104)
  line L749 (24, -96) -> (24, -104)
  line L750 (80, -96) -> (88, -96)
  line L751 (96, -96) -> (104, -96)
  line L752 (40, -96) -> (40, -104)
  line L753 (72, -104) -> (72, -96)
  line L754 (104, -104) -> (104, -96)
  line L755 (64, -104) -> (64, -96)
  line L756 (40, -104) -> (40, -96)
  line L757 (104, -96) -> (112, -96)
  line L758 (96, -104) -> (96, -96)
  line L759 (72, -96) -> (80, -96)
  line L760 (56, -96) -> (56, -104)
  line L761 (16, -104) -> (16, -96)
  line L762 (0, -96) -> (0, -104)
  line L763 (40, -96) -> (48, -96)
  line L764 (104, -104) -> (96, -104)
  line L765 (112, -104) -> (104, -104)
  line L766 (96, -104) -> (88, -104)
  line L767 (64, -104) -> (56, -104)
  line L768 (120, -104) -> (112, -104)
  line L769 (24, -104) -> (16, -104)
  line L770 (88, -104) -> (80, -104)
  line L771 (56, -104) -> (48, -104)
  line L772 (72, -104) -> (64, -104)
  line L773 (80, -104) -> (72, -104)
  line L774 (40, -104) -> (32, -104)
  line L775 (32, -104) -> (24, -104)
  line L776 (8, -104) -> (0, -104)
  line L777 (48, -104) -> (40, -104)
  line L778 (16, -104) -> (8, -104)
  line L779 (120, -96) -> (120, -104)
  line L780 (112, -96) -> (120, -96)
  line L781 (112, -104) -> (112, -96)
  line L782 (32, -104) -> (32, -112)
  line L783 (72, -104) -> (72, -112)
  line L784 (8, -112) -> (8, -104)
  line L785 (32, -112) -> (32, -104)
  line L786 (64, -104) -> (64, -112)
  line L787 (80, -104) -> (80, -112)
  line L788 (32, -104) -> (40, -104)
  line L789 (8, -104) -> (16, -104)
  line L790 (56, -112) -> (56, -104)
  line L791 (80, -112) -> (80, -104)
  line L792 (64, -104) -> (72, -104)
  line L793 (96, -104) -> (96, -112)
  line L794 (48, -104) -> (56, -104)
  line L795 (88, -112) -> (88, -104)
  line L796 (48, -104) -> (48, -112)
  line L797 (0, -112) -> (0, -104)
  line L798 (104, -104) -> (104, -112)
  line L799 (88, -104) -> (88, -112)
  line L800 (24, -104) -> (32, -104)
  line L801 (16, -104) -> (24, -104)
  line L802 (8, -104) -> (8, -112)
  line L803 (0, -104) -> (8, -104)
  line L804 (88, -104) -> (96, -104)
  line L805 (24, -112) -> (24, -104)
  line L806 (48, -112) -> (48, -104)
  line L807 (56, -104) -> (64, -104)
  line L808 (16, -104) -> (16, -112)
  line L809 (24, -104) -> (24, -112)
  line L810 (80, -104) -> (88, -104)
  line L811 (96, -104) -> (104, -104)
  line L812 (40, -104) -> (40, -112)
  line L813 (72, -112) -> (72, -104)
  line L814 (104, -112) -> (104, -104)
  line L815 (64, -112) -> (64, -104)
  line L816 (40, -112) -> (40, -104)
  line L817 (104, -104) -> (112, -104)
  line L818 (96, -112) -> (96, -104)
  line L819 (72, -104) -> (80, -104)
  line L820 (56, -104) -> (56, -112)
  line L821 (16, -112) -> (16, -104)
  line L822 (0, -104) -> (0, -112)
  line L823 (40, -104) -> (48, -104)
  line L824 (104, -112) -> (96, -112)
  line L825 (112, -112) -> (104, -112)
  line L826 (96, -112) -> (88, -112)
  line L827 (64, -112) -> (56, -112)
  line L828 (120, -112) -> (112, -112)
  line L829 (24, -112) -> (16, -112)
  line L830 (88, -112) -> (80, -112)
  line L831 (56, -112) -> (48, -112)
  line L832 (72, -112) -> (64, -112)
  line L833 (80, -112) -> (72, -112)
  line L834 (40, -112) -> (32, -112)
  line L835 (32, -112) -> (24, -112)
  line L836 (8, -112) -> (0, -112)
  line L837 (48, -112) -> (40, -112)
  line L838 (16, -112) -> (8, -112)
  line L839 (120, -104) -> (120, -112)
  line L840 (112, -104) -> (120, -104)
  line L841 (112, -112) -> (112, -104)
  line L842 (32, -112) -> (32, -120)
  line L843 (72, -112) -> (72, -120)
  line L844 (8, -120) -> (8, -112)
  line L845 (32, -120) -> (32, -112)
  line L846 (64, -112) -> (64, -120)
  line L847 (80, -112) -> (80, -120)
  line L848 (32, -112) -> (40, -112)
  line L849 (8, -112) -> (16, -112)
  line L850 (56, -120) -> (56, -112)
  line L851 (80, -120) -> (80, -112)
  line L852 (64, -112) -> (72, -112)
  line L853 (96, -112) -> (96, -120)
  line L854 (48, -112) -> (56, -112)
  line L855 (88, -120) -> (88, -112)
  line L856 (48, -112) -> (48, -120)
  line L857 (0, -120) -> (0, -112)
  line L858 (104, -112) -> (104, -120)
  line L859 (88, -112) -> (88, -120)
  line L860 (24, -112) -> (32, -112)
  line L861 (16, -112) -> (24, -112)
  line L862 (8, -112) -> (8, -120)
  line L863 (0, -112) -> (8, -112)
  line L864 (88, -112) -> (96, -112)
  line L865 (24, -120) -> (24, -112)
  line L866 (48, -120) -> (48, -112)
  line L867 (56, -112) -> (64, -112)
  line L868 (16, -112) -> (16, -120)
  line L869 (24, -112) -> (24, -120)
  line L870 (80, -112) -> (88, -112)
  line L871 (96, -112) -> (104, -112)
  line L872 (40, -112) -> (40, -120)
  line L873 (72, -120) -> (72, -112)
  line L874 (104, -120) -> (104, -112)
  line L875 (64, -120) -> (64, -112)
  line L876 (40, -120) -> (40, -112)
  line L877 (104, -112) -> (112, -112)
  line L878 (96, -120) -> (96, -112)
  line L879 (72, -112) -> (80, -112)
  line L880 (56, -112) -> (56, -120)
  line L881 (16, -120) -> (16, -112)
  line L882 (0, -112) -> (0, -120)
  line L883 (40, -112) -> (48, -112)
  line L884 (104, -120) -> (96, -120)
  line L885 (112, -120) -> (104, -120)
  line L886 (96, -120) -> (88, -120)
  line L887 (64, -120) -> (56, -120)
  line L888 (120, -120) -> (112, -120)
  line L889 (24, -120) -> (16, -120)
  line L890 (88, -120) -> (80, -120)
  line L891 (56, -120) -> (48, -120)
  line L892 (72, -120) -> (64, -120)
  line L893 (80, -120) -> (72, -120)
  line L894 (40, -120) -> (32, -120)
  line L895 (32, -120) -> (24, -120)
  line L896 (8, -120) -> (0, -120)
  line L897 (48, -120) -> (40, -120)
  line L898 (16, -120) -> (8, -120)
  line L899 (120, -112) -> (120, -120)
  line L900 (112, -112) -> (120, -112)
  line L901 (112, -120) -> (112, -112)
  point P0 (0, -8)
  point P1 (0, -8)
  point P2 (0, -16)
  point P3 (0, -16)
  point P4 (0, -24)
  point P5 (0, -24)
  point P6 (0, -32)
  point P7 (0, -32)
  point P8 (0, -40)
  point P9 (0, -40)
  point P10 (0, -48)
  point P11 (0, -48)
  point P12 (0, -56)
  point P13 (0, -56)
  point P14 (0, -64)
  point P15 (0, -64)
  point P16 (0, -72)
  point P17 (0, -72)
  point P18 (0, -80)
  point P19 (0, -80)
  point P20 (0, -88)
  point P21 (0, -88)
  point P22 (0, -96)
  point P23 (0, -96)
  point P24 (0, -104)
  point P25 (0, -104)
  point P26 (0, -112)
  point P27 (0, -112)
  dimension "d1" = 8
  dimension "d4" = 112
  dimension "d5" = 0
  dimension "d8" = 0
  dimension "d9" = -8
extrude "Extrude2" add sketch "Sketch1" along normal blind 15 contours L17 L62 L65 L80 L85 L89 L115 L140 | L109 L141 L145 L148 L149 L161 L169 L201 | L178 L184 L189 L202 L208 L221 L238 L249 | L21 L62 L65 L68 L92 L96 L114 L128 | L115 L122 L125 L140 L145 L149 L175 L200 | L169 L201 L205 L208 L209 L221 L229 L261 | L238 L244 L249 L262 L268 L281 L298 L309 | L296 L304 L317 L322 L323 L342 L356 L383 | L20 L22 L23 L24 L25 L26 L103 | L25 L76 L86 L92 L96 L103 L117 L163 | L114 L122 L125 L128 L152 L156 L174 L188 | L175 L182 L185 L200 L205 L209 L235 L260 | L229 L261 L265 L268 L269 L281 L289 L321 | L298 L304 L309 L322 L328 L341 L358 L369 | L356 L364 L377 L382 L383 L402 L416 L443 | L24 L26 L27 L28 L29 L30 L74 | L29 L70 L74 L76 L86 L100 L111 L134 | L117 L136 L146 L152 L156 L163 L177 L223 | L174 L182 L185 L188 L212 L216 L234 L248 | L235 L242 L245 L260 L265 L269 L295 L320 | L289 L321 L325 L328 L329 L341 L349 L381 | L358 L364 L369 L382 L388 L401 L418 L429 | L416 L424 L437 L442 L443 L462 L476 L503 | L28 L30 L31 L32 L33 L34 L87 | L33 L66 L70 L87 L95 L100 L107 L147 | L111 L130 L134 L136 L146 L160 L171 L194 | L177 L196 L206 L212 L216 L223 L237 L283 | L234 L242 L245 L248 L272 L276 L294 L308 | L295 L302 L305 L320 L325 L329 L355 L380 | L349 L381 L385 L388 L389 L401 L409 L441 | L418 L424 L429 L442 L448 L461 L478 L489 | L476 L484 L497 L502 L503 L522 L536 L563 | L32 L34 L35 L36 L37 L38 L72 | L37 L63 L66 L72 L93 L95 L112 L132 | L107 L126 L130 L147 L155 L160 L167 L207 | L171 L190 L194 L196 L206 L220 L231 L254 | L237 L256 L266 L272 L276 L283 L297 L343 | L294 L302 L305 L308 L332 L336 L354 L368 | L355 L362 L365 L380 L385 L389 L415 L440 | L409 L441 L445 L448 L449 L461 L469 L501 | L478 L484 L489 L502 L508 L521 L538 L549 | L536 L544 L557 L562 L563 L582 L596 L623 | L36 L38 L39 L40 L41 L42 L99 | L41 L63 L67 L71 L93 L99 L113 L159 | L112 L123 L126 L132 L153 L155 L172 L192 | L167 L186 L190 L207 L215 L220 L227 L267 | L231 L250 L254 L256 L266 L280 L291 L314 | L297 L316 L326 L332 L336 L343 L357 L403 | L354 L362 L365 L368 L392 L396 L414 L428 | L415 L422 L425 L440 L445 L449 L475 L500 | L469 L501 L505 L508 L509 L521 L529 L561 | L538 L544 L549 L562 L568 L581 L598 L609 | L45 L67 L71 L75 L79 L90 L110 L150 | L113 L123 L127 L131 L153 L159 L173 L219 | L172 L183 L186 L192 L213 L215 L232 L252 | L227 L246 L250 L267 L275 L280 L287 L327 | L291 L310 L314 L316 L326 L340 L351 L374 | L357 L376 L386 L392 L396 L403 L417 L463 | L414 L422 L425 L428 L452 L456 L474 L488 | L475 L482 L485 L500 L505 L509 L535 L560 | L529 L561 L565 L568 L569 L581 L589 L621 | L598 L604 L609 L622 L628 L641 L658 L669 | L49 L73 L75 L79 L84 L98 L106 L144 | L110 L127 L131 L135 L139 L150 L170 L210 | L173 L183 L187 L191 L213 L219 L233 L279 | L232 L243 L246 L252 L273 L275 L292 L312 | L287 L306 L310 L327 L335 L340 L347 L387 | L351 L370 L374 L376 L386 L400 L411 L434 | L417 L436 L446 L452 L456 L463 L477 L523 | L474 L482 L485 L488 L512 L516 L534 L548 | L535 L542 L545 L560 L565 L569 L595 L620 | L589 L621 L625 L628 L629 L641 L649 L681 | L658 L664 L669 L682 L688 L701 L718 L729 | L106 L133 L135 L139 L144 L158 L166 L204 | L170 L187 L191 L195 L199 L210 L230 L270 | L233 L243 L247 L251 L273 L279 L293 L339 | L292 L303 L306 L312 L333 L335 L352 L372 | L347 L366 L370 L387 L395 L400 L407 L447 | L411 L430 L434 L436 L446 L460 L471 L494 | L477 L496 L506 L512 L516 L523 L537 L583 | L534 L542 L545 L548 L572 L576 L594 L608 | L595 L602 L605 L620 L625 L629 L655 L680 | L649 L681 L685 L688 L689 L701 L709 L741 | L104 L133 L138 L151 L154 L158 L164 L211 | L166 L193 L195 L199 L204 L218 L226 L264 | L230 L247 L251 L255 L259 L270 L290 L330 | L293 L303 L307 L311 L333 L339 L353 L399 | L352 L363 L366 L372 L393 L395 L412 L432 | L407 L426 L430 L447 L455 L460 L467 L507 | L471 L490 L494 L496 L506 L520 L531 L554 | L537 L556 L566 L572 L576 L583 L597 L643 | L594 L602 L605 L608 L632 L636 L654 L668 | L655 L662 L665 L680 L685 L689 L715 L740 | L709 L741 L745 L748 L749 L761 L769 L801 | L164 L193 L198 L211 L214 L218 L224 L271 | L226 L253 L255 L259 L264 L278 L286 L324 | L290 L307 L311 L315 L319 L330 L350 L390 | L353 L363 L367 L371 L393 L399 L413 L459 | L412 L423 L426 L432 L453 L455 L472 L492 | L467 L486 L490 L507 L515 L520 L527 L567 | L531 L550 L554 L556 L566 L580 L591 L614 | L597 L616 L626 L632 L636 L643 L657 L703 | L654 L662 L665 L668 L692 L696 L714 L728 | L715 L722 L725 L740 L745 L749 L775 L800 | L165 L198 L214 L217 L225 L241 L277 | L224 L253 L258 L271 L274 L278 L284 L331 | L286 L313 L315 L319 L324 L338 L346 L384 | L350 L367 L371 L375 L379 L390 L410 L450 | L413 L423 L427 L431 L453 L459 L473 L519 | L472 L483 L486 L492 L513 L515 L532 L552 | L527 L546 L550 L567 L575 L580 L587 L627 | L591 L610 L614 L616 L626 L640 L651 L674 | L657 L676 L686 L692 L696 L703 L717 L763 | L714 L722 L725 L728 L752 L756 L774 L788 | L775 L782 L785 L800 L805 L809 L835 L860 | L225 L258 L274 L277 L285 L301 L337 | L284 L313 L318 L331 L334 L338 L344 L391 | L346 L373 L375 L379 L384 L398 L406 L444 | L410 L427 L431 L435 L439 L450 L470 L510 | L473 L483 L487 L491 L513 L519 L533 L579 | L532 L543 L546 L552 L573 L575 L592 L612 | L587 L606 L610 L627 L635 L640 L647 L687 | L651 L670 L674 L676 L686 L700 L711 L734 | L717 L736 L746 L752 L756 L763 L777 L823 | L774 L782 L785 L788 L812 L816 L834 L848 | L285 L318 L334 L337 L345 L361 L397 | L344 L373 L378 L391 L394 L398 L404 L451 | L406 L433 L435 L439 L444 L458 L466 L504 | L470 L487 L491 L495 L499 L510 L530 L570 | L533 L543 L547 L551 L573 L579 L593 L639 | L592 L603 L606 L612 L633 L635 L652 L672 | L647 L666 L670 L687 L695 L700 L707 L747 | L711 L730 L734 L736 L746 L760 L771 L794 | L777 L796 L806 L812 L816 L823 L837 L883 | L288 L348 L359 L360 L361 L420 | L345 L378 L394 L397 L405 L421 L457 | L404 L433 L438 L451 L454 L458 L464 L511 | L466 L493 L495 L499 L504 L518 L526 L564 | L530 L547 L551 L555 L559 L570 L590 L630 | L593 L603 L607 L611 L633 L639 L653 L699 | L652 L663 L666 L672 L693 L695 L712 L732 | L707 L726 L730 L747 L755 L760 L767 L807 | L771 L790 L794 L796 L806 L820 L831 L854 | L837 L856 L866 L872 L876 L883 L897 | L348 L408 L419 L420 L421 L480 | L405 L438 L454 L457 L465 L481 L517 | L464 L493 L498 L511 L514 L518 L524 L571 | L526 L553 L555 L559 L564 L578 L586 L624 | L590 L607 L611 L615 L619 L630 L650 L690 | L653 L663 L667 L671 L693 L699 L713 L759 | L712 L723 L726 L732 L753 L755 L772 L792 | L767 L786 L790 L807 L815 L820 L827 L867 | L831 L850 L854 L856 L866 L880 L891 | L408 L468 L479 L480 L481 L540 | L465 L498 L514 L517 L525 L541 L577 | L524 L553 L558 L571 L574 L578 L584 L631 | L586 L613 L615 L619 L624 L638 L646 L684 | L650 L667 L671 L675 L679 L690 L710 L750 | L713 L723 L727 L731 L753 L759 L773 L819 | L772 L783 L786 L792 L813 L815 L832 L852 | L827 L846 L850 L867 L875 L880 L887 | L468 L528 L539 L540 L541 L600 | L525 L558 L574 L577 L585 L601 L637 | L584 L613 L618 L631 L634 L638 L644 L691 | L646 L673 L675 L679 L684 L698 L706 L744 | L710 L727 L731 L735 L739 L750 L770 L810 | L773 L783 L787 L791 L813 L819 L833 L879 | L832 L843 L846 L852 L873 L875 L892 | L528 L588 L599 L600 L601 L660 | L585 L618 L634 L637 L645 L661 L697 | L644 L673 L678 L691 L694 L698 L704 L751 | L706 L733 L735 L739 L744 L758 L766 L804 | L770 L787 L791 L795 L799 L810 L830 L870 | L833 L843 L847 L851 L873 L879 L893 | L645 L678 L694 L697 L705 L721 L757 | L704 L733 L738 L751 L754 L758 L764 L811 | L766 L793 L795 L799 L804 L818 L826 L864
